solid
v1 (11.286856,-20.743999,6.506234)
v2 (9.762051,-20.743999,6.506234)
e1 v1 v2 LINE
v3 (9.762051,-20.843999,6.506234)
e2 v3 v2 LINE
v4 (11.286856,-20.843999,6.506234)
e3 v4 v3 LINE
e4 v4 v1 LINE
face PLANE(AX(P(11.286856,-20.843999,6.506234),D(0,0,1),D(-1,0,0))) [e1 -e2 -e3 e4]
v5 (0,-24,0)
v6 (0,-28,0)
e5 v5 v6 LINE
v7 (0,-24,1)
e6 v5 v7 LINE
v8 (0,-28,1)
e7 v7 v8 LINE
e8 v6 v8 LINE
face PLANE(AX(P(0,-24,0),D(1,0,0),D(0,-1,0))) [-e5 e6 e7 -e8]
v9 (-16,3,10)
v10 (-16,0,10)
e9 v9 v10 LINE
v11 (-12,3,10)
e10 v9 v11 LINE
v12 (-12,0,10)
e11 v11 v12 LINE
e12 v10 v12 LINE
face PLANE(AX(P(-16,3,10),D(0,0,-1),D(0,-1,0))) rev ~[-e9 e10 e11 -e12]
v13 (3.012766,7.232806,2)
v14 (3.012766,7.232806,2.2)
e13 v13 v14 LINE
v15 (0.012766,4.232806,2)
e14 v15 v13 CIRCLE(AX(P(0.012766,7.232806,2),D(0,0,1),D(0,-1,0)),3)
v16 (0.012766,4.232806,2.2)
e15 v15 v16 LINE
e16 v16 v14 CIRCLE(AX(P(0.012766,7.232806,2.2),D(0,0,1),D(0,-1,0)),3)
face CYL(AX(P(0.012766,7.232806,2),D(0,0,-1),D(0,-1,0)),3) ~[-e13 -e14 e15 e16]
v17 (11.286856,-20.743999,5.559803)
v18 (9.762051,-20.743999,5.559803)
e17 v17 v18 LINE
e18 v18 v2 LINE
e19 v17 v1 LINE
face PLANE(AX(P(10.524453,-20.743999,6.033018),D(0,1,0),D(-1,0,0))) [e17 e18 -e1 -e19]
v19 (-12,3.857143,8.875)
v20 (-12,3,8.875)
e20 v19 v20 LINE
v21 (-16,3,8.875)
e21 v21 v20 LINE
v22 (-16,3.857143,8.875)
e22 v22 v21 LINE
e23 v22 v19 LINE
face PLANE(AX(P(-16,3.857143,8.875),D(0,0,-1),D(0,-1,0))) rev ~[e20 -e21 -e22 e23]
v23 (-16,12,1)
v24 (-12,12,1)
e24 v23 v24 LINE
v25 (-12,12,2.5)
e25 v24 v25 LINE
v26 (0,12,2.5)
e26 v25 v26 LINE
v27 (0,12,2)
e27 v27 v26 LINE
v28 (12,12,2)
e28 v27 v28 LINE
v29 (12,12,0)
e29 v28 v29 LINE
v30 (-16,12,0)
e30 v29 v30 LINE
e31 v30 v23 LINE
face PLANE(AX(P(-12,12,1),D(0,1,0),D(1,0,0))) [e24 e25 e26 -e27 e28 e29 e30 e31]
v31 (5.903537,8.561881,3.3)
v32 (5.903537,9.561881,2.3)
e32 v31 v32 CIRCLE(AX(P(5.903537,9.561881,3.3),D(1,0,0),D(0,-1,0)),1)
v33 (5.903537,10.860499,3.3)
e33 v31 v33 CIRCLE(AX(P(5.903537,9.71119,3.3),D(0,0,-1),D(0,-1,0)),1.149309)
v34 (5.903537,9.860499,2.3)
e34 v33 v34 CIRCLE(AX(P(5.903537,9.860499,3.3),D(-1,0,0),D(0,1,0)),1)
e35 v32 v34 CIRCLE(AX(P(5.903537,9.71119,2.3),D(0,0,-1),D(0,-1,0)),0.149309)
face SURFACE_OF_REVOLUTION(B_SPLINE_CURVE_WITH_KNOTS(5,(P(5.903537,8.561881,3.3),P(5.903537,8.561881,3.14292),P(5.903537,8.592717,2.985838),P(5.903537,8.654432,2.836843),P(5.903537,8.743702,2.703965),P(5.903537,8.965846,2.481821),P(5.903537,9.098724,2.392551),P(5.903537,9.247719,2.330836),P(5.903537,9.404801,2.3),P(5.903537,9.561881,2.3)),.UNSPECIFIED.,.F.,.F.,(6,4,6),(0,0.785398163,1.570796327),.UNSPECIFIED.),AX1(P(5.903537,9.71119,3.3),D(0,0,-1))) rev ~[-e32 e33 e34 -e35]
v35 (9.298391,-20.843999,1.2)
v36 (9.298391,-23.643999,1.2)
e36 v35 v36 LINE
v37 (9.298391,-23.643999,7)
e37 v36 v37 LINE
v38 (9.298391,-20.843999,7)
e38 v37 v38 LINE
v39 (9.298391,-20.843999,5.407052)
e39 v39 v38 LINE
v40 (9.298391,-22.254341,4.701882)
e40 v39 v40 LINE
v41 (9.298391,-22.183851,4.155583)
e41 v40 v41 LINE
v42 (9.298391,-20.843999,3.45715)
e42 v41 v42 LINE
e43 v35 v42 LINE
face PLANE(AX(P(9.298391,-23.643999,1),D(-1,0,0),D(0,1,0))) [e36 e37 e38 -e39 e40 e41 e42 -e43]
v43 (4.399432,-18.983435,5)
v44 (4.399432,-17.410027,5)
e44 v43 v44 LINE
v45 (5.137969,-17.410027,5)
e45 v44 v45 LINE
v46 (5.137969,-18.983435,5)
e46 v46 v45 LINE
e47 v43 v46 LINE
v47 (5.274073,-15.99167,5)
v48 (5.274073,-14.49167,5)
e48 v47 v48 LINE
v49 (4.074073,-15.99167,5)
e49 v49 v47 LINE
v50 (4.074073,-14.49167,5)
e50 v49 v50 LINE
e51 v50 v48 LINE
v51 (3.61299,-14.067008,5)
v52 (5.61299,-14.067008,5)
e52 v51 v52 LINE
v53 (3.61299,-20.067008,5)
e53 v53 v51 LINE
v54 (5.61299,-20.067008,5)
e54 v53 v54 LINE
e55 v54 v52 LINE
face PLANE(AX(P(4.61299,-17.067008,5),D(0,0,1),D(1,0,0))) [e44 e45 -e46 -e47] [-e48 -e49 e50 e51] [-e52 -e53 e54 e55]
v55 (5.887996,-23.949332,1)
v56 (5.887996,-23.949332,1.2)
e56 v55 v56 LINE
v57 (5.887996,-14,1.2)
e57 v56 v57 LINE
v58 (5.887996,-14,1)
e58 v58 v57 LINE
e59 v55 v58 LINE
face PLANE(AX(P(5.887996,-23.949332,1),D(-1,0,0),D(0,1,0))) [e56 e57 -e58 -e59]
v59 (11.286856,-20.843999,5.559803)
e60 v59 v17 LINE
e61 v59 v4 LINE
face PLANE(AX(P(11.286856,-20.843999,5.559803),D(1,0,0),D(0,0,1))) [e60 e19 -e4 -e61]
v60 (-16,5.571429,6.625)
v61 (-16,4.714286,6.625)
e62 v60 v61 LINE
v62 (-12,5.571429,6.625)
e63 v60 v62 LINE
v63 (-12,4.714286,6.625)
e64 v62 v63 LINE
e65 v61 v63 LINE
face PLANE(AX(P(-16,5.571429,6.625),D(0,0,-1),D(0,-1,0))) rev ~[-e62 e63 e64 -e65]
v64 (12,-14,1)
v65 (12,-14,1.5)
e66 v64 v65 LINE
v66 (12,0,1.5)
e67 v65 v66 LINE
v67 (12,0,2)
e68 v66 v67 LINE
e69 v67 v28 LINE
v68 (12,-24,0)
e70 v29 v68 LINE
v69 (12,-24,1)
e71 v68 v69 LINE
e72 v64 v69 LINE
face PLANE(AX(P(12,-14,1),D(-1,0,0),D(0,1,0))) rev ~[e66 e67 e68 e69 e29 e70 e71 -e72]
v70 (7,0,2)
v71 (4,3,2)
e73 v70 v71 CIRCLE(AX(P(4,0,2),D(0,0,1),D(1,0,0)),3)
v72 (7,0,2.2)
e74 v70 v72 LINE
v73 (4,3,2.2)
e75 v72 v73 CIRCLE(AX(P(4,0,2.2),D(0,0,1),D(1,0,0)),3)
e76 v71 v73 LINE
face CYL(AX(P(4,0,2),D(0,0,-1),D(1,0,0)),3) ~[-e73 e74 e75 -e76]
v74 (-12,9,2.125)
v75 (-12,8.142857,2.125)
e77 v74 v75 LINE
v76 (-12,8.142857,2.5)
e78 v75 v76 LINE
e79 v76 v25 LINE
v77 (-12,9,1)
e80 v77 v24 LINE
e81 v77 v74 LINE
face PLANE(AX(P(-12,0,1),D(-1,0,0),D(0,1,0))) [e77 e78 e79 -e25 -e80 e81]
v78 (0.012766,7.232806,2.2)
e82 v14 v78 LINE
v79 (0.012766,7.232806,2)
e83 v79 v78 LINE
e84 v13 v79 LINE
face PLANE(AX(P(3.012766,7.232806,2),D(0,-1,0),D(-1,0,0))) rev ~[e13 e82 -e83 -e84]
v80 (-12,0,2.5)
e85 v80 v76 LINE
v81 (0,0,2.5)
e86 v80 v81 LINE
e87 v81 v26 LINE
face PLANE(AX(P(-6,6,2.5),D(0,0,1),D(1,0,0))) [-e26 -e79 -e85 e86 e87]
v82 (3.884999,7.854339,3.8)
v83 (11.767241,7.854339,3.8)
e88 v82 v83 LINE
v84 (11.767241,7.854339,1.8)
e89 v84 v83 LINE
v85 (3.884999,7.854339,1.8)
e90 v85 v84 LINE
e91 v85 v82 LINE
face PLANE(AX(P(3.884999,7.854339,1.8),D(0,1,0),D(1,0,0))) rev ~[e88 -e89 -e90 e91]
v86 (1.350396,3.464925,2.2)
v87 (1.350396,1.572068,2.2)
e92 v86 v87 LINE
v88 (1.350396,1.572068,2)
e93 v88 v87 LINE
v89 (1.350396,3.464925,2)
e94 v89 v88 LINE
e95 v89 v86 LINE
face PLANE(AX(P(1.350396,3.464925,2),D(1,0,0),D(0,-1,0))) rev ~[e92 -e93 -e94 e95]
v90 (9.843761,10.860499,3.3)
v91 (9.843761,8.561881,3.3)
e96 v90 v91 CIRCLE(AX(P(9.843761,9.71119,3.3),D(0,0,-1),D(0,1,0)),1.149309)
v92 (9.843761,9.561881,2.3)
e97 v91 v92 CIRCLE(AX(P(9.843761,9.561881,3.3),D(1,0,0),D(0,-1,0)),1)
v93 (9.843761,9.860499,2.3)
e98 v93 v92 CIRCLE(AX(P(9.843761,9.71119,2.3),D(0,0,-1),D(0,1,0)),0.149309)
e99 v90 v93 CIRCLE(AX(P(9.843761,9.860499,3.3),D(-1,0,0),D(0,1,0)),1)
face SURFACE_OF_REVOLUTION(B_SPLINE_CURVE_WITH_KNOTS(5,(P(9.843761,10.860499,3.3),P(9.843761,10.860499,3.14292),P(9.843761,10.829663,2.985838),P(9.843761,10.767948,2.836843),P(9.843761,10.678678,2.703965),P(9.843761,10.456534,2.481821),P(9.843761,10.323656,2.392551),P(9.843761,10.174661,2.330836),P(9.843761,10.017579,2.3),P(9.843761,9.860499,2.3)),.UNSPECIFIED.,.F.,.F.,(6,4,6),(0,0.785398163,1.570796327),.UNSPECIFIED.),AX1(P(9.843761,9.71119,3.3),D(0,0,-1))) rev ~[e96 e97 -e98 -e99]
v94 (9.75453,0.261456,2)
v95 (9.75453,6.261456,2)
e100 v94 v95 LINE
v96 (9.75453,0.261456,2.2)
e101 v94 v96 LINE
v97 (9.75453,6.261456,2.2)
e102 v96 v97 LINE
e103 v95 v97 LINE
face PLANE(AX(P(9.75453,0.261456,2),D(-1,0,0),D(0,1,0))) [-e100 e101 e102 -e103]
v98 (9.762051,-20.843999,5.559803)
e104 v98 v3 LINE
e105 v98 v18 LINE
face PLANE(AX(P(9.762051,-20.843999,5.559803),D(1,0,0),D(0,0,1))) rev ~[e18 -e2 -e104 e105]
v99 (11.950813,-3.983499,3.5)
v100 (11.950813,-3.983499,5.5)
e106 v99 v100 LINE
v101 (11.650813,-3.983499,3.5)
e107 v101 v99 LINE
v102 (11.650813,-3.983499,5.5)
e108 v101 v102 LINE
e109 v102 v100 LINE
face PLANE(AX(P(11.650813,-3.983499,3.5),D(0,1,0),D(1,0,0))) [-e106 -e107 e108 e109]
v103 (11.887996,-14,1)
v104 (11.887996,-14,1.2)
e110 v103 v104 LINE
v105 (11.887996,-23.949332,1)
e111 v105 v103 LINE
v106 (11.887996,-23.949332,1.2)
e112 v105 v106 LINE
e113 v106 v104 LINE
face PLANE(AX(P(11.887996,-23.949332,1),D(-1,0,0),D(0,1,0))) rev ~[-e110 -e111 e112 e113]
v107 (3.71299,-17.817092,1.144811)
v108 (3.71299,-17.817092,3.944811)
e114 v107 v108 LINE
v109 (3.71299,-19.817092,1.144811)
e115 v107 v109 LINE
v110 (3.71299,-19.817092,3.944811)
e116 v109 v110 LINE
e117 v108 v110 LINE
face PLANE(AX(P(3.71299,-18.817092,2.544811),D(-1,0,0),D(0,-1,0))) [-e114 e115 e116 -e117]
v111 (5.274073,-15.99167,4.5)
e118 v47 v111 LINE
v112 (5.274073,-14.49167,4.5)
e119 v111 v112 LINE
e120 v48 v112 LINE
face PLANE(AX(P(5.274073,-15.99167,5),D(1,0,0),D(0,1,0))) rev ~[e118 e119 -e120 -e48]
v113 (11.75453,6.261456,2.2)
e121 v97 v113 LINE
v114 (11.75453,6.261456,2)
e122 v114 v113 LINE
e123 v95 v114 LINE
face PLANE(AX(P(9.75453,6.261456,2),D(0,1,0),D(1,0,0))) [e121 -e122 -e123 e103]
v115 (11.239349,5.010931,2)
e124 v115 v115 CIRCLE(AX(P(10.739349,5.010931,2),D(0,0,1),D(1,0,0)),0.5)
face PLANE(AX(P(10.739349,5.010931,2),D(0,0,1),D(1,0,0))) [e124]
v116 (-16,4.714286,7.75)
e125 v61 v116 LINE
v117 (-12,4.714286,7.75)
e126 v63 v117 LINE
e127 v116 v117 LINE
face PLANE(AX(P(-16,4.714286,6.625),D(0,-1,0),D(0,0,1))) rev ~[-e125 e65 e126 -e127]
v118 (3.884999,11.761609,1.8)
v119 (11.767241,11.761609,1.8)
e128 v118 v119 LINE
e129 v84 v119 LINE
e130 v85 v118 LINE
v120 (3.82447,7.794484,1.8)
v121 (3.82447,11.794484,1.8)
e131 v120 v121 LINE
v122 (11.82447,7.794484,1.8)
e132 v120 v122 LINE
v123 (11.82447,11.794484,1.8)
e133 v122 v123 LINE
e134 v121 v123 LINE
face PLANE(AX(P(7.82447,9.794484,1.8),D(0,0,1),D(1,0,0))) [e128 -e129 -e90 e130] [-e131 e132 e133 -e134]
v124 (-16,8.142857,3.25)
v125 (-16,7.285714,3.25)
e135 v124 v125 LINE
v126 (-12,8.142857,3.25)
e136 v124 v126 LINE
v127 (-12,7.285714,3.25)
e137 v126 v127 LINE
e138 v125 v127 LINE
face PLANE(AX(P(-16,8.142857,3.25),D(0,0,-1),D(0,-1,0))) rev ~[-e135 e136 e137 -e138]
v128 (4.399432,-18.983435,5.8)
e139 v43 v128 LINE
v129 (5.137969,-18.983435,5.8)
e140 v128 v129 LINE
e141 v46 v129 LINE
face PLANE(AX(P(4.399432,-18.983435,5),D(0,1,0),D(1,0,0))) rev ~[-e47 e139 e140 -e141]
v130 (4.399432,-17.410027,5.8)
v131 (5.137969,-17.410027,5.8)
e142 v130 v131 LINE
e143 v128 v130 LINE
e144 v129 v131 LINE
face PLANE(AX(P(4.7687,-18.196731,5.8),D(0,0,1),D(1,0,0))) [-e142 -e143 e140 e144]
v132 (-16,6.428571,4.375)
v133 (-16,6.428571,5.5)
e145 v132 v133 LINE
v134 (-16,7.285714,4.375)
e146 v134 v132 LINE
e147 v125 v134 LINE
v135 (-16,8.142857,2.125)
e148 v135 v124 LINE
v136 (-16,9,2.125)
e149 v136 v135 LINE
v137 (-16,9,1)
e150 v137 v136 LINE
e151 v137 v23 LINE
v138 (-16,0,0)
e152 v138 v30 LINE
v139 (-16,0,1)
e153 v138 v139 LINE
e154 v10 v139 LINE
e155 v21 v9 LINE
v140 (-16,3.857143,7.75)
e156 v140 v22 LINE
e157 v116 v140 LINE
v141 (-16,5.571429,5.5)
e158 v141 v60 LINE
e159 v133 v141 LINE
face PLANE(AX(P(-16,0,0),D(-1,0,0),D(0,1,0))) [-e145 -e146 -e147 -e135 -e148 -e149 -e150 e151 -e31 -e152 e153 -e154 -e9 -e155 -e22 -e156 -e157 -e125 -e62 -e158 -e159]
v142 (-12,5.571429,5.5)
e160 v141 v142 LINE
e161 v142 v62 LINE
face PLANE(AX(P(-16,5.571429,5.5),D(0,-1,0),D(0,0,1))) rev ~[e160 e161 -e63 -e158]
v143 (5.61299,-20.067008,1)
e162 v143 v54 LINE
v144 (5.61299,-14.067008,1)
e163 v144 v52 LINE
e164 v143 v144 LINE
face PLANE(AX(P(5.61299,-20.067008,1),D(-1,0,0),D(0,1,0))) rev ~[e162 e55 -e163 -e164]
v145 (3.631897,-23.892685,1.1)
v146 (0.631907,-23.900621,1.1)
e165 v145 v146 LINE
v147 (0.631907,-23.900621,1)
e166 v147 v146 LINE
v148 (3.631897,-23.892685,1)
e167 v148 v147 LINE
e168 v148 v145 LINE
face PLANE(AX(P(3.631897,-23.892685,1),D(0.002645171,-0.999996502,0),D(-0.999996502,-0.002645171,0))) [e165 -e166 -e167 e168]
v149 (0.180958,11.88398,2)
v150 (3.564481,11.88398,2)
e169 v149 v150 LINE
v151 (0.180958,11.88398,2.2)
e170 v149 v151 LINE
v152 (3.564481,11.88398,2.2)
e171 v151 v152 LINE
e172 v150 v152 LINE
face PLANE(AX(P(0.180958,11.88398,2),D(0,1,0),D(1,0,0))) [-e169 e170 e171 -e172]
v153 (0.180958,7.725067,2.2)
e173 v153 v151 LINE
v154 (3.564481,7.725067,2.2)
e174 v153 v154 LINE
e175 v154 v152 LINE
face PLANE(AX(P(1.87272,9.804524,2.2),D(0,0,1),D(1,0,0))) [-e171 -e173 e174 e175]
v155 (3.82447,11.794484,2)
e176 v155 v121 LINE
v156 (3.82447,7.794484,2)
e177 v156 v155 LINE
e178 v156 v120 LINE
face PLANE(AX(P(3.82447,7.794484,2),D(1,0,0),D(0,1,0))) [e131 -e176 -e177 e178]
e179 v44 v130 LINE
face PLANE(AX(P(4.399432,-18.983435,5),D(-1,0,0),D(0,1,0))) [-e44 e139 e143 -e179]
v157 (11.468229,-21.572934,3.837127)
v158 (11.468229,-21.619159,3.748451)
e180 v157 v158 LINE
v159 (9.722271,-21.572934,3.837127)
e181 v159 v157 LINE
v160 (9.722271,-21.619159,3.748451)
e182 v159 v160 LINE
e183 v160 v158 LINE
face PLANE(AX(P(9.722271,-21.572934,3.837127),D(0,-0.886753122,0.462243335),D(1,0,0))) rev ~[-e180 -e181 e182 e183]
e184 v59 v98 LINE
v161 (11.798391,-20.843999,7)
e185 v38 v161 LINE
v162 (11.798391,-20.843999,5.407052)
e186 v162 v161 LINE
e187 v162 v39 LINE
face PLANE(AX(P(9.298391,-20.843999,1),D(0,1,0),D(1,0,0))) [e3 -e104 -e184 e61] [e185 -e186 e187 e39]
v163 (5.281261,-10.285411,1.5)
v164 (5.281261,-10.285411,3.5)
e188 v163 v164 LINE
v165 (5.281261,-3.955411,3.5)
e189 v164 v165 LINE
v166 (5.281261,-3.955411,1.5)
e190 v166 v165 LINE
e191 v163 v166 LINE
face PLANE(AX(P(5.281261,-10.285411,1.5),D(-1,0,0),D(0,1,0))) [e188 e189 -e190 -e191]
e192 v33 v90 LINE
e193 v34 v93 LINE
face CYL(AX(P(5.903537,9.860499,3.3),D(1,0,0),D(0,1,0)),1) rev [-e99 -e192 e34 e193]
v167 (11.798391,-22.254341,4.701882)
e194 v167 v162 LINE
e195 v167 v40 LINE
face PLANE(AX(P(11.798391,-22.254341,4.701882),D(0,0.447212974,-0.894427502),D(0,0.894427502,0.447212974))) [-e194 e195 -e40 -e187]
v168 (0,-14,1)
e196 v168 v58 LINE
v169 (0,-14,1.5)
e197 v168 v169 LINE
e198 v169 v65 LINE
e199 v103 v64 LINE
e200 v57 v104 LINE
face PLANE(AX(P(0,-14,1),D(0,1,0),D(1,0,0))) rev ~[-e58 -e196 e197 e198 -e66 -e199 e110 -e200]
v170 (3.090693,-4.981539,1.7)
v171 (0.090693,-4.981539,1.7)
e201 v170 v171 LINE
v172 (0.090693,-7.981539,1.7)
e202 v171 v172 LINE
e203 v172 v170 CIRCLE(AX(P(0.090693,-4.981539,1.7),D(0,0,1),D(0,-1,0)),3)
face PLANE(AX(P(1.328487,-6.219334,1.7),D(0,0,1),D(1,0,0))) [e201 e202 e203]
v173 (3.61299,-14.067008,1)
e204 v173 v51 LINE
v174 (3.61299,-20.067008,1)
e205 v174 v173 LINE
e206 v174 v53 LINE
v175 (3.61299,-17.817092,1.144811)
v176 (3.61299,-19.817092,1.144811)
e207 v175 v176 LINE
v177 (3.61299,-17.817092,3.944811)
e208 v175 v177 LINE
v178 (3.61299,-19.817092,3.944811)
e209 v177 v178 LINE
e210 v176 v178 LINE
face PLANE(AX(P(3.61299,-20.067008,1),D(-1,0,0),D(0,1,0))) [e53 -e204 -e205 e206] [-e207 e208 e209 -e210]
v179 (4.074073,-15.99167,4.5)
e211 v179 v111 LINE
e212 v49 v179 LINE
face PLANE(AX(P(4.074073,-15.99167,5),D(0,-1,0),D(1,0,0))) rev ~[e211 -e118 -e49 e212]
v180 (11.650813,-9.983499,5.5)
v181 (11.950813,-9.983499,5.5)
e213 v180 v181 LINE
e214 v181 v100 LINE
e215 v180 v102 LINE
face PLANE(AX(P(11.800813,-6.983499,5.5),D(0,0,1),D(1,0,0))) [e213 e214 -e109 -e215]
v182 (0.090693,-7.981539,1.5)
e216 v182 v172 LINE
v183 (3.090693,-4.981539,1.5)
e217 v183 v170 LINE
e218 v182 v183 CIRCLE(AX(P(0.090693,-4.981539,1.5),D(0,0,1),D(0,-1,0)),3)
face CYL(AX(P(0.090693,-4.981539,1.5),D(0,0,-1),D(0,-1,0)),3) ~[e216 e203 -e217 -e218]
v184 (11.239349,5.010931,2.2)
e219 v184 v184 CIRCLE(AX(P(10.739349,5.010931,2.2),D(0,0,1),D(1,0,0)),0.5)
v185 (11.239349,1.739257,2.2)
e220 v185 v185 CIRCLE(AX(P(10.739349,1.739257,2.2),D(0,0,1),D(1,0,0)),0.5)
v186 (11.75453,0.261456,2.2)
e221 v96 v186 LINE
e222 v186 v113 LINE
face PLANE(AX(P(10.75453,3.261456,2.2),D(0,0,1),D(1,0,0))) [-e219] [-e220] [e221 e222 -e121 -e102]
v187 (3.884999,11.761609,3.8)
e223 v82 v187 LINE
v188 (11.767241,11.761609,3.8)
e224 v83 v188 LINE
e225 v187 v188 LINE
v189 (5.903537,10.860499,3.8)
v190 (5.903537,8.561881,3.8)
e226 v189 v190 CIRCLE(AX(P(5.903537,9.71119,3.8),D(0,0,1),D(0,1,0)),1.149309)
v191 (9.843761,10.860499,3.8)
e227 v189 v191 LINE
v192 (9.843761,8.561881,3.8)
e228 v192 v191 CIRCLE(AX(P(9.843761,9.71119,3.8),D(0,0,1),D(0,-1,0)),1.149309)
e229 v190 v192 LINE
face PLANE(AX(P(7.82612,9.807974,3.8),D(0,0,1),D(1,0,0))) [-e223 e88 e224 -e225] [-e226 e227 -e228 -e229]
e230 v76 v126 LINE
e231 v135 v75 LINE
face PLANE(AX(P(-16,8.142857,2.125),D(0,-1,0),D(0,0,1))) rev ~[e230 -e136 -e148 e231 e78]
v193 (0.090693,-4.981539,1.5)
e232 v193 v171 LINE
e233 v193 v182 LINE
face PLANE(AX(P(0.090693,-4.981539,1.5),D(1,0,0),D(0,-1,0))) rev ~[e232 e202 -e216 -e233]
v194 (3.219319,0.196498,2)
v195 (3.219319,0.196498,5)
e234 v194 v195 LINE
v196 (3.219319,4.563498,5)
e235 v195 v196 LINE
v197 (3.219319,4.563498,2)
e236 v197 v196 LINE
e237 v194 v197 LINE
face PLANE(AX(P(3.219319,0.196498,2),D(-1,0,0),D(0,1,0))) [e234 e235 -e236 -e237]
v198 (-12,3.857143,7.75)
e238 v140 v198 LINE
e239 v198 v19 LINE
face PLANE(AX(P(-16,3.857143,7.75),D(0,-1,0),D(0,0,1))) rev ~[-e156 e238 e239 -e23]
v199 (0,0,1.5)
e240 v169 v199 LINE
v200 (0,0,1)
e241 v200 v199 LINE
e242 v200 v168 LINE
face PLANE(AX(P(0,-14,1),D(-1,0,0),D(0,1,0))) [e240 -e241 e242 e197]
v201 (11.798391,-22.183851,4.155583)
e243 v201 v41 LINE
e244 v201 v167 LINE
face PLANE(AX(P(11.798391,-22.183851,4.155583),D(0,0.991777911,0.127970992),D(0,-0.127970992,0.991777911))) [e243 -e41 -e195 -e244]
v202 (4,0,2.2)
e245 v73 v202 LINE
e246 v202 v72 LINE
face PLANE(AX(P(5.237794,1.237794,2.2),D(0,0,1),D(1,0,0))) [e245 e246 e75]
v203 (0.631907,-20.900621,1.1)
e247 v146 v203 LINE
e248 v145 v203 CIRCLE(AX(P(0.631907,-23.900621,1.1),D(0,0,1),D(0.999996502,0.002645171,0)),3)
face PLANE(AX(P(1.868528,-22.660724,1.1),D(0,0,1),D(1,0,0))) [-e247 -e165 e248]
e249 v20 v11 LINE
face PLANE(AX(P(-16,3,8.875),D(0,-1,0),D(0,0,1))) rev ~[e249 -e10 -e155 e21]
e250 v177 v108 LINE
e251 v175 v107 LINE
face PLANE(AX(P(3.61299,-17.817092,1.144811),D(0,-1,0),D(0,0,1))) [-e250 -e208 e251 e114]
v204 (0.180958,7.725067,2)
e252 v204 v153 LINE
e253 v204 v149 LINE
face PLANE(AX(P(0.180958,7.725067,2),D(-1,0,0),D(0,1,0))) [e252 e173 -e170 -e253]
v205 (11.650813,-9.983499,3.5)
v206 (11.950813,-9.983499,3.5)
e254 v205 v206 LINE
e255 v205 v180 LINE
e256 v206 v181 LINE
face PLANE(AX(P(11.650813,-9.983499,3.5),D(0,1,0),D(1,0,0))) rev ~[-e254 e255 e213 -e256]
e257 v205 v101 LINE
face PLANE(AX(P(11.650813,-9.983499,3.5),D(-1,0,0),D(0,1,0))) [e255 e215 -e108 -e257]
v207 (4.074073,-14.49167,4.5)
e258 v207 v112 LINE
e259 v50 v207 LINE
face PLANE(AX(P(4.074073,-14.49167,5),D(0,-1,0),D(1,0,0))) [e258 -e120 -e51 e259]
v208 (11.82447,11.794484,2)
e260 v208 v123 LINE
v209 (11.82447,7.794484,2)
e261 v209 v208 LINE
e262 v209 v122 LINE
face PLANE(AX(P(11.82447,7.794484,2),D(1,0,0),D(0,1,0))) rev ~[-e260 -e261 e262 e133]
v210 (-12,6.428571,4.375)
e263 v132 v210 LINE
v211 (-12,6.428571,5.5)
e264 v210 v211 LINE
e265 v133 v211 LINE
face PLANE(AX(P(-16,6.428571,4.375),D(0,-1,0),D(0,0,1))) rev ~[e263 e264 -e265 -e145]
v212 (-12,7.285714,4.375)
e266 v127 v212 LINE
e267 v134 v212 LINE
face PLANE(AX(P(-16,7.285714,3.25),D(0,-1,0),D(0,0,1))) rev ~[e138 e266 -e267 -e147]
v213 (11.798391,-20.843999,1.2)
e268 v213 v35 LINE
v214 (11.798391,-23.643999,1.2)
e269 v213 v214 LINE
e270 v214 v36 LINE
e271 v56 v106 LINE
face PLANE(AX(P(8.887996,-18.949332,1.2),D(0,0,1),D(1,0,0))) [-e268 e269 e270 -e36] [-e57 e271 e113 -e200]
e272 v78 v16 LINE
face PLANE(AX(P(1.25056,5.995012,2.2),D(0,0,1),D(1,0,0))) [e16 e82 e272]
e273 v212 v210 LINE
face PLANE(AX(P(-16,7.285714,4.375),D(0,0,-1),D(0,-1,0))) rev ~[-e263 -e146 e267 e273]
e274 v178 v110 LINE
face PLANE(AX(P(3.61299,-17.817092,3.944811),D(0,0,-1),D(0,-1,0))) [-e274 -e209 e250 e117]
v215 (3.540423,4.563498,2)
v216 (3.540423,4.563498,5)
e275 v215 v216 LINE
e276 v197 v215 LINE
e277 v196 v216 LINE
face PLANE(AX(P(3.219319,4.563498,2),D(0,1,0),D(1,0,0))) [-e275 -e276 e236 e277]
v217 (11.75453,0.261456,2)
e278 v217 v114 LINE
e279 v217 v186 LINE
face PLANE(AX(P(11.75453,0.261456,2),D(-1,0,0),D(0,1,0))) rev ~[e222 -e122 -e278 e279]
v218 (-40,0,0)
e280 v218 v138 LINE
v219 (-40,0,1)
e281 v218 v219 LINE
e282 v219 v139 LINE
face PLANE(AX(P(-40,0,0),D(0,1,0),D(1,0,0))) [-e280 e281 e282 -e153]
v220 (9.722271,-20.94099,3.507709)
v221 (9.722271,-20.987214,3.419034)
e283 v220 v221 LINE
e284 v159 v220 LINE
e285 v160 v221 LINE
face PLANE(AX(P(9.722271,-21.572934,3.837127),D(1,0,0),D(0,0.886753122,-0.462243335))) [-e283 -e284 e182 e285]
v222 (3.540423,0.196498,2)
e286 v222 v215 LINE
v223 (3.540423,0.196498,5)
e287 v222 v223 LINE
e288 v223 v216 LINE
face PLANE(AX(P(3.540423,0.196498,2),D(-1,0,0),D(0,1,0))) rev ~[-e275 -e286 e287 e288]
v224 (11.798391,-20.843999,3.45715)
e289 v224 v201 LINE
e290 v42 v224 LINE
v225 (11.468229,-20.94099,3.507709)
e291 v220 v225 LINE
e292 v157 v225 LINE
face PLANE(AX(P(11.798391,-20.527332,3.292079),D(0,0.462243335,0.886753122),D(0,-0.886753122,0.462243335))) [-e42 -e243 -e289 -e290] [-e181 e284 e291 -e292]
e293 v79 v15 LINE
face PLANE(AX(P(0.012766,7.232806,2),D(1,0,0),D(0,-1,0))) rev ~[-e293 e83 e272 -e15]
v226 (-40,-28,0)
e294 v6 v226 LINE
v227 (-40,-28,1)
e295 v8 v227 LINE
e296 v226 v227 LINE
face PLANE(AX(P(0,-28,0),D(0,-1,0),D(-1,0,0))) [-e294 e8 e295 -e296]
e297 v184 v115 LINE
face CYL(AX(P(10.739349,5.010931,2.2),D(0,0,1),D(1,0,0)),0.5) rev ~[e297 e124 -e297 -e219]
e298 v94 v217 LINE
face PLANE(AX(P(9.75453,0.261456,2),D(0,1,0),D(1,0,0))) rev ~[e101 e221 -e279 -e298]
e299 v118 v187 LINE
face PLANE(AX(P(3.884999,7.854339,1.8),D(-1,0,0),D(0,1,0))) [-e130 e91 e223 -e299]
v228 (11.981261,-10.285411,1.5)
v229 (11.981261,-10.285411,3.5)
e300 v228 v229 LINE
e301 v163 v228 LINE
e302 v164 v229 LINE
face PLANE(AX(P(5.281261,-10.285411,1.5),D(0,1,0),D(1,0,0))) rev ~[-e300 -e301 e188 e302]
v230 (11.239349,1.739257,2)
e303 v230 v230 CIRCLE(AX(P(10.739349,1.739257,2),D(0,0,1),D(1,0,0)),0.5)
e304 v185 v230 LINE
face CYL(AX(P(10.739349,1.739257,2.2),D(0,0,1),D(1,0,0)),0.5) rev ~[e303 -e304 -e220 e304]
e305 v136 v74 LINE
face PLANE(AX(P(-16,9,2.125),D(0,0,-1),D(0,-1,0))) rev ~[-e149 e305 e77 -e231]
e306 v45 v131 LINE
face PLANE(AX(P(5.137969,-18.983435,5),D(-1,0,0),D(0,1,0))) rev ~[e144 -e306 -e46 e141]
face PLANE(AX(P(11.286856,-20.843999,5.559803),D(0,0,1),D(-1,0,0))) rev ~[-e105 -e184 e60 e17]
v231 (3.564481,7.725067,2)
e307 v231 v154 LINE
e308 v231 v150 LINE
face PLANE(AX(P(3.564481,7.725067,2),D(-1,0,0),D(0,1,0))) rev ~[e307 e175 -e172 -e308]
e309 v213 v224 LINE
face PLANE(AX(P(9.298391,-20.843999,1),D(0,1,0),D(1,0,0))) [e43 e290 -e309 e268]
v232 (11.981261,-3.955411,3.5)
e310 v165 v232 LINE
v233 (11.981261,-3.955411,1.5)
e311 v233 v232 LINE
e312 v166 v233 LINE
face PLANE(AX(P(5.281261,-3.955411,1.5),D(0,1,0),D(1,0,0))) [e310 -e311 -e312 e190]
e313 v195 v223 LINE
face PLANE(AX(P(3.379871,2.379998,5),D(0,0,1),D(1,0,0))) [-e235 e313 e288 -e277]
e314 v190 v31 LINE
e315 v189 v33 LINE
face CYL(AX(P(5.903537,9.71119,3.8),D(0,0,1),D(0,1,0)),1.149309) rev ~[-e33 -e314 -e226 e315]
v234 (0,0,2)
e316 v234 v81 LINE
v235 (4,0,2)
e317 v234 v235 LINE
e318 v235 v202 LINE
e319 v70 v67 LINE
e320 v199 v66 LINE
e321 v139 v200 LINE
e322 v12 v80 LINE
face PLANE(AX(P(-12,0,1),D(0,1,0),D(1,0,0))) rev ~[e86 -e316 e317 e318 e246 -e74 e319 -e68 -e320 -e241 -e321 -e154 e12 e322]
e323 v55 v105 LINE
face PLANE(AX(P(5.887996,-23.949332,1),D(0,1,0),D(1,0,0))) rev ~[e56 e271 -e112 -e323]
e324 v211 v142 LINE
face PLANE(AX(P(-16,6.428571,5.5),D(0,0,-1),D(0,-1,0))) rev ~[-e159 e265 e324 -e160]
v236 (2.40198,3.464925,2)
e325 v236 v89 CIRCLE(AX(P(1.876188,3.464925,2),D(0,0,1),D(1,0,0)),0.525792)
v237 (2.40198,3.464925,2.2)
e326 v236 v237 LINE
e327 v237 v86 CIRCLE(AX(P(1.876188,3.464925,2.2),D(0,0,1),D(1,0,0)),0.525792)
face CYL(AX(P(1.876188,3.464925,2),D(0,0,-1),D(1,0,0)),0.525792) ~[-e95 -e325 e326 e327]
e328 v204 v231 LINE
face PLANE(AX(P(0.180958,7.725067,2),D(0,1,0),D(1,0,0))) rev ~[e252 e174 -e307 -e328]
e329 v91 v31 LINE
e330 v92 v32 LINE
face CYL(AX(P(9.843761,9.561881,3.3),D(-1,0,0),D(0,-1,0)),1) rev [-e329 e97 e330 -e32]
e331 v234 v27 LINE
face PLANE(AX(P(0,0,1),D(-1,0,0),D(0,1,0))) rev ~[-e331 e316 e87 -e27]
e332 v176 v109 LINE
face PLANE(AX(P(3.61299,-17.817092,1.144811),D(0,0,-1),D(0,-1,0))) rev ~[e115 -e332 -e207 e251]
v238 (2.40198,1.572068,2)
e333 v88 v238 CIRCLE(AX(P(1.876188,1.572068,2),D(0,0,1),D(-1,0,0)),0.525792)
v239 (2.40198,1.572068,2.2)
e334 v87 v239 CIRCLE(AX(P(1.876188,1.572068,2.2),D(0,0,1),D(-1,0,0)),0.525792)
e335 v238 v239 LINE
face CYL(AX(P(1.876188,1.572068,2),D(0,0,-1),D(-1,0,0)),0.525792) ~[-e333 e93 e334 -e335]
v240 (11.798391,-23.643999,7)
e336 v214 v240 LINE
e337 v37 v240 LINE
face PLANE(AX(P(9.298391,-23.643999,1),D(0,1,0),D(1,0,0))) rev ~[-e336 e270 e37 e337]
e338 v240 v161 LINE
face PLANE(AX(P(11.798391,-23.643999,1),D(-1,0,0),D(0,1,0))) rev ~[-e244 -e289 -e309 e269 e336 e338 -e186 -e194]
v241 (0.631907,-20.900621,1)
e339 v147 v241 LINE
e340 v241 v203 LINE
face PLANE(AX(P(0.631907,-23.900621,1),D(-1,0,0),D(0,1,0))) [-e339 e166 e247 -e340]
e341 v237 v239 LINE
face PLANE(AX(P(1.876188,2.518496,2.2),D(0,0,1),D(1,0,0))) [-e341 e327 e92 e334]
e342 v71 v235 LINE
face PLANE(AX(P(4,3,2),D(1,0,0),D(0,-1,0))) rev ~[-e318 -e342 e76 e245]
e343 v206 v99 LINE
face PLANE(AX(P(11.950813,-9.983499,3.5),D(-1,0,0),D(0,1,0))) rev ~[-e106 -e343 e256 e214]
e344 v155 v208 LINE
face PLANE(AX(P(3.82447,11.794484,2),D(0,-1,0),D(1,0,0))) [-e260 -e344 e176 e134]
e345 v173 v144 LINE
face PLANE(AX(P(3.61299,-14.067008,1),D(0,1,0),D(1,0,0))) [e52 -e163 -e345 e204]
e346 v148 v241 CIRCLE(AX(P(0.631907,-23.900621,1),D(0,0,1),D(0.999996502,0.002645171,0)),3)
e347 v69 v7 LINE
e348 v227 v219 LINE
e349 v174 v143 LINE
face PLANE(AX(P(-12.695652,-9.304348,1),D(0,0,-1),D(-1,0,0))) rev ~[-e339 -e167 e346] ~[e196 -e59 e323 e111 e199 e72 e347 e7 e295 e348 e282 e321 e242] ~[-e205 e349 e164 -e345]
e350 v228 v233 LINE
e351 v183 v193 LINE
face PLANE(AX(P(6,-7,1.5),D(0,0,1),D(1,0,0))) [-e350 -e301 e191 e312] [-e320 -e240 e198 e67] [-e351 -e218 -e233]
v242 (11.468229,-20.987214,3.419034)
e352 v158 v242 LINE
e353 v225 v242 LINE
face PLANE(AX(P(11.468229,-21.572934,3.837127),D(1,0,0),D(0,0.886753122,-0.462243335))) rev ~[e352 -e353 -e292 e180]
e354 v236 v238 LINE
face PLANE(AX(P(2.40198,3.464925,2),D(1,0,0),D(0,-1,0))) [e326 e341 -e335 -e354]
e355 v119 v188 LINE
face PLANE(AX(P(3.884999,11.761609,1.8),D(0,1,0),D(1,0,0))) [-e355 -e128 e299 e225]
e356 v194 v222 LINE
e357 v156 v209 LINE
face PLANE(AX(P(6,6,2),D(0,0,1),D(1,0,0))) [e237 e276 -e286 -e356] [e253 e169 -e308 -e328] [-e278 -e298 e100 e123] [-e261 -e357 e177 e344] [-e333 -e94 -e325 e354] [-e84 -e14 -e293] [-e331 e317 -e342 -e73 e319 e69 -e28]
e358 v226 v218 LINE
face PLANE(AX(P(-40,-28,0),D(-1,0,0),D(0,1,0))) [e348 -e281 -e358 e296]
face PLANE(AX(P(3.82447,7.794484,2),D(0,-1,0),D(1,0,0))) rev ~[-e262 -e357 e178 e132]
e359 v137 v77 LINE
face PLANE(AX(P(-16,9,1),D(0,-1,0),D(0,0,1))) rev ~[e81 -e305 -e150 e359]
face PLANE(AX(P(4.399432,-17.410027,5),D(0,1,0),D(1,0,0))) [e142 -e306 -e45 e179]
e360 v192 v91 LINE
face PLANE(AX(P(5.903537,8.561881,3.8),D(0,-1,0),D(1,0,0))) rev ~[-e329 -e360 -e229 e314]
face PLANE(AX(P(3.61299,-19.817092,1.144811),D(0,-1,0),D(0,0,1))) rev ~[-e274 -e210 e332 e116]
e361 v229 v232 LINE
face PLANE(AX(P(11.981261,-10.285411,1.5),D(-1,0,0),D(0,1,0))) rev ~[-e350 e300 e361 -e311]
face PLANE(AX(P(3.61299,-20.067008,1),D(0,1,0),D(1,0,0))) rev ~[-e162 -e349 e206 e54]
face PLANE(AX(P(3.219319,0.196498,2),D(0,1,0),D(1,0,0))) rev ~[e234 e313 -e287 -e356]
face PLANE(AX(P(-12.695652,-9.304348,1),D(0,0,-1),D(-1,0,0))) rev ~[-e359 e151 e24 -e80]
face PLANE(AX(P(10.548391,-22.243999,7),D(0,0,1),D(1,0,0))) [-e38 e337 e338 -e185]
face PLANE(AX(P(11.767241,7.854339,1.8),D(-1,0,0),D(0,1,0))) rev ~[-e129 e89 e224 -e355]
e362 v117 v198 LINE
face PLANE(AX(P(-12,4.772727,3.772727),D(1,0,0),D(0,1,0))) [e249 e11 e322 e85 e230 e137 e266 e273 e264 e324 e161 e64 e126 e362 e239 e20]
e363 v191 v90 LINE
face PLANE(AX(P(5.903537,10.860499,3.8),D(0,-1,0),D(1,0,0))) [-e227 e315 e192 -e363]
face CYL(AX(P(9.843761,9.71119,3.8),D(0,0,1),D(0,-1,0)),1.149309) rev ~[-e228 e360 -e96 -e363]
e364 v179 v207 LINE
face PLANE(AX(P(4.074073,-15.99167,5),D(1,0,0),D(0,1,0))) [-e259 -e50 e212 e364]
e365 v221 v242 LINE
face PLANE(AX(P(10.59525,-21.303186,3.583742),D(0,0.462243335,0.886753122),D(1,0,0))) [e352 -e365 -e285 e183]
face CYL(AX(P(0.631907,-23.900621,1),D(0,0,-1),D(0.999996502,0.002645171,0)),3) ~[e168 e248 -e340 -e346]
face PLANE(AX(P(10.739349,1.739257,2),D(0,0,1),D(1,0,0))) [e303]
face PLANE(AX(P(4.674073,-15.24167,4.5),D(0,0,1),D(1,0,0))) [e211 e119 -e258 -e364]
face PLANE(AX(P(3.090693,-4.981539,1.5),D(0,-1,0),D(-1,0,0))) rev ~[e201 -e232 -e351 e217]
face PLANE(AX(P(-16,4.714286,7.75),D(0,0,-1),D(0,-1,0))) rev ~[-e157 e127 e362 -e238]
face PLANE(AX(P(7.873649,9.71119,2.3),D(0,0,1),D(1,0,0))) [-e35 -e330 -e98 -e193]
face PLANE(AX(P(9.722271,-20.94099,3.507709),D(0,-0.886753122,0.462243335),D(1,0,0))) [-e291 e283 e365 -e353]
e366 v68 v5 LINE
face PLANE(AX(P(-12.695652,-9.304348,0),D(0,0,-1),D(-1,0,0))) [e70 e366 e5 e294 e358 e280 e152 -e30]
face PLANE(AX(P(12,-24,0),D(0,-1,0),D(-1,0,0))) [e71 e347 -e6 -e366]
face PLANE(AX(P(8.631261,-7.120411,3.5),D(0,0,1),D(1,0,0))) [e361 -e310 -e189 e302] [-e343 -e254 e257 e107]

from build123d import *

# Parameters (mm, degrees)
PAD_DEPTH       = 1
SKETCH001_W     = 12
SKETCH001_H     = 12
PAD001_DEPTH    = 1
SKETCH002_W     = 12
SKETCH002_H     = 14
PAD002_DEPTH    = 0.5
SKETCH003_W     = 12
SKETCH003_H     = 12
PAD003_DEPTH    = 1.5
PAD004_DEPTH    = 4
SKETCH005_W     = 8
SKETCH005_H     = 4
POCKET_DEPTH    = 0.2
PAD005_DEPTH    = 0.2
SKETCH007_W     = 2
SKETCH007_H     = 6
PAD006_DEPTH    = 0.2
SKETCH008_R     = 0.5
POCKET001_DEPTH = 0.2
SKETCH009_W     = 3.383523
SKETCH009_H     = 4.158913
PAD007_DEPTH    = 0.2
PAD008_DEPTH    = 0.2
SKETCH011_W     = 0.321104
SKETCH011_H     = 4.367
PAD009_DEPTH    = 3
PAD010_DEPTH    = 0.2
SKETCH013_W     = 2
SKETCH013_H     = 6
PAD011_DEPTH    = 4
SKETCH014_W     = 6
SKETCH014_H     = 10
PAD012_DEPTH    = 0.2
PAD013_DEPTH    = 0.2
SKETCH016_W     = 2.5
SKETCH016_H     = 2.8
PAD014_DEPTH    = 6
SKETCH018_W     = 1.2
SKETCH018_H     = 1.5
POCKET002_DEPTH = 0.5
SKETCH019_W     = 2
SKETCH019_H     = 2.8
POCKET003_DEPTH = 0.1
SKETCH020_W     = 0.738537
SKETCH020_H     = 1.573408
PAD015_DEPTH    = 0.8
SKETCH021_W     = 1.524805
SKETCH021_H     = 0.946431
PAD016_DEPTH    = 0.1
POCKET004_DEPTH = 5
SKETCH023_W     = 1.745958
SKETCH023_H     = 0.71265
POCKET005_DEPTH = 0.1
SKETCH024_W     = 6.7
SKETCH024_H     = 6.33
PAD017_DEPTH    = 2
SKETCH025_W     = 0.3
SKETCH025_H     = 6
PAD018_DEPTH    = 2
SKETCH026_W     = 7.882242
SKETCH026_H     = 3.90727
PAD019_DEPTH    = 2
POCKET006_DEPTH = 1.5
FILLET_R        = 1
PAD020_DEPTH    = 0.1


with BuildPart() as part:
    # Sketch → Pad (new body)
    with BuildSketch(Plane.XY):
        Polygon((0, -28), (-40, -28), (-40, 0), (-16, 0), (-16, 12), (12, 12), (12, -24), (0, -24), align=None)
    extrude(amount=PAD_DEPTH)

    # Sketch001 (on Face10 of Pad) → Pad001 (join)
    with BuildSketch(Plane.XY.offset(1)):
        with Locations((6, 6)):
            Rectangle(SKETCH001_W, SKETCH001_H)
    extrude(amount=PAD001_DEPTH)

    # Sketch002 (on Face5 of Pad001) → Pad002 (join)
    with BuildSketch(Plane.XY.offset(1)):
        with Locations((6, -7)):
            Rectangle(SKETCH002_W, SKETCH002_H)
    extrude(amount=PAD002_DEPTH)

    # Sketch003 (on Face5 of Pad002) → Pad003 (join)
    with BuildSketch(Plane.XY.offset(1)):
        with Locations((-6, 6)):
            Rectangle(SKETCH003_W, SKETCH003_H)
    extrude(amount=PAD003_DEPTH)

    # Sketch004 (on Face8 of Pad003) → Pad004 (join)
    with BuildSketch(Plane(origin=(-16, 0, 0), x_dir=(0, -1, 0), z_dir=(-1, 0, 0))):
        Polygon((-12, 0), (-12, 1), (-9, 1), (-9, 2.1249999998), (-8.1428571429, 2.1249999998), (-8.1428571429, 3.2499999997), (-7.2857142857, 3.2499999997), (-7.2857142857, 4.3749999997), (-6.4285714286, 4.3749999997), (-6.4285714286, 5.4999999997), (-5.5714285714, 5.4999999997), (-5.5714285714, 6.6249999997), (-4.7142857143, 6.6249999997), (-4.7142857143, 7.7499999998), (-3.8571428571, 7.7499999998), (-3.8571428571, 8.8749999999), (-3, 8.8749999999), (-3, 10), (0, 10), (0, 0), align=None)
    extrude(amount=-PAD004_DEPTH)

    # Sketch005 (on Face29 of Pad004) → Pocket (cut)
    with BuildSketch(Plane.XY.offset(2)):
        with Locations((7.8244701681, 9.794484)):
            Rectangle(SKETCH005_W, SKETCH005_H)
    extrude(amount=-POCKET_DEPTH, mode=Mode.SUBTRACT)

    # Sketch006 (on Face29 of Pocket) → Pad005 (join)
    with BuildSketch(Plane.XY.offset(2)):
        with BuildLine():
            ThreePointArc((7, 0), (6.1213203436, 2.1213203436), (4, 3))
            Line((4, 3), (4, 0))
            Line((4, 0), (7, 0))
        make_face()
    extrude(amount=PAD005_DEPTH)

    # Sketch007 (on Face29 of Pad005) → Pad006 (join)
    with BuildSketch(Plane.XY.offset(2)):
        with Locations((10.75453, 3.2614561845)):
            Rectangle(SKETCH007_W, SKETCH007_H)
    extrude(amount=PAD006_DEPTH)

    # Sketch008 (on Face58 of Pad006) → Pocket001 (cut)
    with BuildSketch(Plane.XY.offset(2.2)):
        with Locations((10.739349, 5.010931)):
            Circle(SKETCH008_R)
        with Locations((10.739349, 1.739257)):
            Circle(SKETCH008_R)
    extrude(amount=-POCKET001_DEPTH, mode=Mode.SUBTRACT)

    # Sketch009 (on Face29 of Pocket001) → Pad007 (join)
    with BuildSketch(Plane.XY.offset(2)):
        with Locations((1.8727195, 9.8045235)):
            Rectangle(SKETCH009_W, SKETCH009_H)
    extrude(amount=PAD007_DEPTH)

    # Sketch010 (on Face29 of Pad007) → Pad008 (join)
    with BuildSketch(Plane.XY.offset(2)):
        with BuildLine():
            ThreePointArc((2.40198, 3.464925), (1.876188, 3.990717), (1.350396, 3.464925))
            Line((1.350396, 3.464925), (1.350396, 1.572068))
            ThreePointArc((1.350396, 1.572068), (1.876188, 1.046276), (2.40198, 1.572068))
            Line((2.40198, 3.464925), (2.40198, 1.572068))
        make_face()
    extrude(amount=PAD008_DEPTH)

    # Sketch011 (on Face29 of Pad008) → Pad009 (join)
    with BuildSketch(Plane.XY.offset(2)):
        with Locations((3.379871, 2.379998)):
            Rectangle(SKETCH011_W, SKETCH011_H)
    extrude(amount=PAD009_DEPTH)

    # Sketch012 (on Face29 of Pad009) → Pad010 (join)
    with BuildSketch(Plane.XY.offset(2)):
        with BuildLine():
            ThreePointArc((0.0127659439, 4.2328060849), (2.1340862875, 5.1114857414), (3.0127659439, 7.2328060849))
            Line((3.0127659439, 7.2328060849), (0.0127659439, 7.2328060849))
            Line((0.0127659439, 7.2328060849), (0.0127659439, 4.2328060849))
        make_face()
    extrude(amount=PAD010_DEPTH)

    # Sketch013 (on Face5 of Pad010) → Pad011 (join)
    with BuildSketch(Plane.XY.offset(1)):
        with Locations((4.6129902875, -17.0670078745)):
            Rectangle(SKETCH013_W, SKETCH013_H)
    extrude(amount=PAD011_DEPTH)

    # Sketch014 (on Face5 of Pad011) → Pad012 (join)
    with BuildSketch(Plane.XY.offset(1)):
        with Locations((8.8879963878, -18.9493321845)):
            Rectangle(SKETCH014_W, SKETCH014_H)
    extrude(amount=PAD012_DEPTH)

    # Sketch015 (on Face29 of Pad012) → Pad013 (join)
    with BuildSketch(Plane.XY.offset(1.5)):
        with BuildLine():
            ThreePointArc((0.0906927099, -7.9815394859), (2.2120130535, -7.1028598295), (3.0906927099, -4.9815394859))
            Line((3.0906927099, -4.9815394859), (0.0906927099, -4.9815394859))
            Line((0.0906927099, -4.9815394859), (0.0906927099, -7.9815394859))
        make_face()
    extrude(amount=PAD013_DEPTH)

    # Sketch016 (on Face5 of Pad013) → Pad014 (join)
    with BuildSketch(Plane.XY.offset(1)):
        with Locations((10.5483907095, -22.2439987125)):
            Rectangle(SKETCH016_W, SKETCH016_H)
    extrude(amount=PAD014_DEPTH)

    # Sketch018 (on Face36 of Pad014) → Pocket002 (cut)
    with BuildSketch(Plane.XY.offset(5)):
        with Locations((4.6740733219, -15.2416696781)):
            Rectangle(SKETCH018_W, SKETCH018_H)
    extrude(amount=-POCKET002_DEPTH, mode=Mode.SUBTRACT)

    # Sketch019 (on Face21 of Pocket002) → Pocket003 (cut)
    with BuildSketch(Plane(origin=(3.6129902875, 0, 0), x_dir=(0, -1, 0), z_dir=(-1, 0, 0))):
        with Locations((18.8170917125, 2.5448113219)):
            Rectangle(SKETCH019_W, SKETCH019_H)
    extrude(amount=-POCKET003_DEPTH, mode=Mode.SUBTRACT)

    # Sketch020 (on Face36 of Pocket003) → Pad015 (join)
    with BuildSketch(Plane.XY.offset(5)):
        with Locations((4.7687005, -18.196731)):
            Rectangle(SKETCH020_W, SKETCH020_H)
    extrude(amount=PAD015_DEPTH)

    # Sketch021 (on Face44 of Pad015) → Pad016 (join)
    with BuildSketch(Plane(origin=(0, -20.8439987125, 0), x_dir=(-1, 0, 0), z_dir=(0, 1, 0))):
        with Locations((-10.5244535, 6.0330185)):
            Rectangle(SKETCH021_W, SKETCH021_H)
    extrude(amount=PAD016_DEPTH)

    # Sketch022 (on Face45 of Pad016) → Pocket004 (cut)
    with BuildSketch(Plane.YZ.offset(11.7983907095)):
        Polygon((-20.527332, 3.292079), (-22.183851, 4.155583), (-22.254341, 4.701882), (-20.527332, 5.565385), align=None)
    extrude(amount=-POCKET004_DEPTH, mode=Mode.SUBTRACT)

    # Sketch023 (on Face101 of Pocket004) → Pocket005 (cut)
    with BuildSketch(Plane(origin=(0, -3.0366433765, -5.8254014449), x_dir=(1, 0, 0), z_dir=(0, 0.4622433354, 0.8867531217))):
        with Locations((10.59525, -20.547228)):
            Rectangle(SKETCH023_W, SKETCH023_H)
    extrude(amount=-POCKET005_DEPTH, mode=Mode.SUBTRACT)

    # Sketch024 (on Face29 of Pocket005) → Pad017 (join)
    with BuildSketch(Plane.XY.offset(1.5)):
        with Locations((8.6312609088, -7.1204113075)):
            Rectangle(SKETCH024_W, SKETCH024_H)
    extrude(amount=PAD017_DEPTH)

    # Sketch025 (on Face110 of Pad017) → Pad018 (join)
    with BuildSketch(Plane.XY.offset(3.5)):
        with Locations((11.800813, -6.9834993219)):
            Rectangle(SKETCH025_W, SKETCH025_H)
    extrude(amount=PAD018_DEPTH)

    # Sketch026 (on Face120 of Pad018) → Pad019 (join)
    with BuildSketch(Plane.XY.offset(1.8)):
        with Locations((7.82612, 9.807974)):
            Rectangle(SKETCH026_W, SKETCH026_H)
    extrude(amount=PAD019_DEPTH)

    # Sketch027 (on Face144 of Pad019) → Pocket006 (cut)
    with BuildSketch(Plane.XY.offset(3.8)):
        with BuildLine():
            ThreePointArc((5.903537, 10.860499), (4.754228, 9.71119), (5.903537, 8.561881))
            Line((5.903537, 8.561881), (9.843761, 8.561881))
            ThreePointArc((9.843761, 8.561881), (10.99307, 9.71119), (9.843761, 10.860499))
            Line((5.903537, 10.860499), (9.843761, 10.860499))
        make_face()
    extrude(amount=-POCKET006_DEPTH, mode=Mode.SUBTRACT)

    # Fillet
    fillet_edges = [part.edges().sort_by_distance(p)[0] for p in [
        (7.873649, 10.860499, 2.3),
    ]]
    fillet(fillet_edges, radius=FILLET_R)

    # Sketch017 (on Face5 of Pad014) → Pad020 (join)
    with BuildSketch(Plane.XY.offset(1)):
        with BuildLine():
            ThreePointArc((3.6318966642, -23.8926850513), (2.7504200176, -21.7764964464), (0.6319071596, -20.9006205647))
            Line((0.6319071596, -23.9006205647), (0.6319071596, -20.9006205647))
            Line((3.6318966642, -23.8926850513), (0.6319071596, -23.9006205647))
        make_face()
    extrude(amount=PAD020_DEPTH)


solid = part.part
